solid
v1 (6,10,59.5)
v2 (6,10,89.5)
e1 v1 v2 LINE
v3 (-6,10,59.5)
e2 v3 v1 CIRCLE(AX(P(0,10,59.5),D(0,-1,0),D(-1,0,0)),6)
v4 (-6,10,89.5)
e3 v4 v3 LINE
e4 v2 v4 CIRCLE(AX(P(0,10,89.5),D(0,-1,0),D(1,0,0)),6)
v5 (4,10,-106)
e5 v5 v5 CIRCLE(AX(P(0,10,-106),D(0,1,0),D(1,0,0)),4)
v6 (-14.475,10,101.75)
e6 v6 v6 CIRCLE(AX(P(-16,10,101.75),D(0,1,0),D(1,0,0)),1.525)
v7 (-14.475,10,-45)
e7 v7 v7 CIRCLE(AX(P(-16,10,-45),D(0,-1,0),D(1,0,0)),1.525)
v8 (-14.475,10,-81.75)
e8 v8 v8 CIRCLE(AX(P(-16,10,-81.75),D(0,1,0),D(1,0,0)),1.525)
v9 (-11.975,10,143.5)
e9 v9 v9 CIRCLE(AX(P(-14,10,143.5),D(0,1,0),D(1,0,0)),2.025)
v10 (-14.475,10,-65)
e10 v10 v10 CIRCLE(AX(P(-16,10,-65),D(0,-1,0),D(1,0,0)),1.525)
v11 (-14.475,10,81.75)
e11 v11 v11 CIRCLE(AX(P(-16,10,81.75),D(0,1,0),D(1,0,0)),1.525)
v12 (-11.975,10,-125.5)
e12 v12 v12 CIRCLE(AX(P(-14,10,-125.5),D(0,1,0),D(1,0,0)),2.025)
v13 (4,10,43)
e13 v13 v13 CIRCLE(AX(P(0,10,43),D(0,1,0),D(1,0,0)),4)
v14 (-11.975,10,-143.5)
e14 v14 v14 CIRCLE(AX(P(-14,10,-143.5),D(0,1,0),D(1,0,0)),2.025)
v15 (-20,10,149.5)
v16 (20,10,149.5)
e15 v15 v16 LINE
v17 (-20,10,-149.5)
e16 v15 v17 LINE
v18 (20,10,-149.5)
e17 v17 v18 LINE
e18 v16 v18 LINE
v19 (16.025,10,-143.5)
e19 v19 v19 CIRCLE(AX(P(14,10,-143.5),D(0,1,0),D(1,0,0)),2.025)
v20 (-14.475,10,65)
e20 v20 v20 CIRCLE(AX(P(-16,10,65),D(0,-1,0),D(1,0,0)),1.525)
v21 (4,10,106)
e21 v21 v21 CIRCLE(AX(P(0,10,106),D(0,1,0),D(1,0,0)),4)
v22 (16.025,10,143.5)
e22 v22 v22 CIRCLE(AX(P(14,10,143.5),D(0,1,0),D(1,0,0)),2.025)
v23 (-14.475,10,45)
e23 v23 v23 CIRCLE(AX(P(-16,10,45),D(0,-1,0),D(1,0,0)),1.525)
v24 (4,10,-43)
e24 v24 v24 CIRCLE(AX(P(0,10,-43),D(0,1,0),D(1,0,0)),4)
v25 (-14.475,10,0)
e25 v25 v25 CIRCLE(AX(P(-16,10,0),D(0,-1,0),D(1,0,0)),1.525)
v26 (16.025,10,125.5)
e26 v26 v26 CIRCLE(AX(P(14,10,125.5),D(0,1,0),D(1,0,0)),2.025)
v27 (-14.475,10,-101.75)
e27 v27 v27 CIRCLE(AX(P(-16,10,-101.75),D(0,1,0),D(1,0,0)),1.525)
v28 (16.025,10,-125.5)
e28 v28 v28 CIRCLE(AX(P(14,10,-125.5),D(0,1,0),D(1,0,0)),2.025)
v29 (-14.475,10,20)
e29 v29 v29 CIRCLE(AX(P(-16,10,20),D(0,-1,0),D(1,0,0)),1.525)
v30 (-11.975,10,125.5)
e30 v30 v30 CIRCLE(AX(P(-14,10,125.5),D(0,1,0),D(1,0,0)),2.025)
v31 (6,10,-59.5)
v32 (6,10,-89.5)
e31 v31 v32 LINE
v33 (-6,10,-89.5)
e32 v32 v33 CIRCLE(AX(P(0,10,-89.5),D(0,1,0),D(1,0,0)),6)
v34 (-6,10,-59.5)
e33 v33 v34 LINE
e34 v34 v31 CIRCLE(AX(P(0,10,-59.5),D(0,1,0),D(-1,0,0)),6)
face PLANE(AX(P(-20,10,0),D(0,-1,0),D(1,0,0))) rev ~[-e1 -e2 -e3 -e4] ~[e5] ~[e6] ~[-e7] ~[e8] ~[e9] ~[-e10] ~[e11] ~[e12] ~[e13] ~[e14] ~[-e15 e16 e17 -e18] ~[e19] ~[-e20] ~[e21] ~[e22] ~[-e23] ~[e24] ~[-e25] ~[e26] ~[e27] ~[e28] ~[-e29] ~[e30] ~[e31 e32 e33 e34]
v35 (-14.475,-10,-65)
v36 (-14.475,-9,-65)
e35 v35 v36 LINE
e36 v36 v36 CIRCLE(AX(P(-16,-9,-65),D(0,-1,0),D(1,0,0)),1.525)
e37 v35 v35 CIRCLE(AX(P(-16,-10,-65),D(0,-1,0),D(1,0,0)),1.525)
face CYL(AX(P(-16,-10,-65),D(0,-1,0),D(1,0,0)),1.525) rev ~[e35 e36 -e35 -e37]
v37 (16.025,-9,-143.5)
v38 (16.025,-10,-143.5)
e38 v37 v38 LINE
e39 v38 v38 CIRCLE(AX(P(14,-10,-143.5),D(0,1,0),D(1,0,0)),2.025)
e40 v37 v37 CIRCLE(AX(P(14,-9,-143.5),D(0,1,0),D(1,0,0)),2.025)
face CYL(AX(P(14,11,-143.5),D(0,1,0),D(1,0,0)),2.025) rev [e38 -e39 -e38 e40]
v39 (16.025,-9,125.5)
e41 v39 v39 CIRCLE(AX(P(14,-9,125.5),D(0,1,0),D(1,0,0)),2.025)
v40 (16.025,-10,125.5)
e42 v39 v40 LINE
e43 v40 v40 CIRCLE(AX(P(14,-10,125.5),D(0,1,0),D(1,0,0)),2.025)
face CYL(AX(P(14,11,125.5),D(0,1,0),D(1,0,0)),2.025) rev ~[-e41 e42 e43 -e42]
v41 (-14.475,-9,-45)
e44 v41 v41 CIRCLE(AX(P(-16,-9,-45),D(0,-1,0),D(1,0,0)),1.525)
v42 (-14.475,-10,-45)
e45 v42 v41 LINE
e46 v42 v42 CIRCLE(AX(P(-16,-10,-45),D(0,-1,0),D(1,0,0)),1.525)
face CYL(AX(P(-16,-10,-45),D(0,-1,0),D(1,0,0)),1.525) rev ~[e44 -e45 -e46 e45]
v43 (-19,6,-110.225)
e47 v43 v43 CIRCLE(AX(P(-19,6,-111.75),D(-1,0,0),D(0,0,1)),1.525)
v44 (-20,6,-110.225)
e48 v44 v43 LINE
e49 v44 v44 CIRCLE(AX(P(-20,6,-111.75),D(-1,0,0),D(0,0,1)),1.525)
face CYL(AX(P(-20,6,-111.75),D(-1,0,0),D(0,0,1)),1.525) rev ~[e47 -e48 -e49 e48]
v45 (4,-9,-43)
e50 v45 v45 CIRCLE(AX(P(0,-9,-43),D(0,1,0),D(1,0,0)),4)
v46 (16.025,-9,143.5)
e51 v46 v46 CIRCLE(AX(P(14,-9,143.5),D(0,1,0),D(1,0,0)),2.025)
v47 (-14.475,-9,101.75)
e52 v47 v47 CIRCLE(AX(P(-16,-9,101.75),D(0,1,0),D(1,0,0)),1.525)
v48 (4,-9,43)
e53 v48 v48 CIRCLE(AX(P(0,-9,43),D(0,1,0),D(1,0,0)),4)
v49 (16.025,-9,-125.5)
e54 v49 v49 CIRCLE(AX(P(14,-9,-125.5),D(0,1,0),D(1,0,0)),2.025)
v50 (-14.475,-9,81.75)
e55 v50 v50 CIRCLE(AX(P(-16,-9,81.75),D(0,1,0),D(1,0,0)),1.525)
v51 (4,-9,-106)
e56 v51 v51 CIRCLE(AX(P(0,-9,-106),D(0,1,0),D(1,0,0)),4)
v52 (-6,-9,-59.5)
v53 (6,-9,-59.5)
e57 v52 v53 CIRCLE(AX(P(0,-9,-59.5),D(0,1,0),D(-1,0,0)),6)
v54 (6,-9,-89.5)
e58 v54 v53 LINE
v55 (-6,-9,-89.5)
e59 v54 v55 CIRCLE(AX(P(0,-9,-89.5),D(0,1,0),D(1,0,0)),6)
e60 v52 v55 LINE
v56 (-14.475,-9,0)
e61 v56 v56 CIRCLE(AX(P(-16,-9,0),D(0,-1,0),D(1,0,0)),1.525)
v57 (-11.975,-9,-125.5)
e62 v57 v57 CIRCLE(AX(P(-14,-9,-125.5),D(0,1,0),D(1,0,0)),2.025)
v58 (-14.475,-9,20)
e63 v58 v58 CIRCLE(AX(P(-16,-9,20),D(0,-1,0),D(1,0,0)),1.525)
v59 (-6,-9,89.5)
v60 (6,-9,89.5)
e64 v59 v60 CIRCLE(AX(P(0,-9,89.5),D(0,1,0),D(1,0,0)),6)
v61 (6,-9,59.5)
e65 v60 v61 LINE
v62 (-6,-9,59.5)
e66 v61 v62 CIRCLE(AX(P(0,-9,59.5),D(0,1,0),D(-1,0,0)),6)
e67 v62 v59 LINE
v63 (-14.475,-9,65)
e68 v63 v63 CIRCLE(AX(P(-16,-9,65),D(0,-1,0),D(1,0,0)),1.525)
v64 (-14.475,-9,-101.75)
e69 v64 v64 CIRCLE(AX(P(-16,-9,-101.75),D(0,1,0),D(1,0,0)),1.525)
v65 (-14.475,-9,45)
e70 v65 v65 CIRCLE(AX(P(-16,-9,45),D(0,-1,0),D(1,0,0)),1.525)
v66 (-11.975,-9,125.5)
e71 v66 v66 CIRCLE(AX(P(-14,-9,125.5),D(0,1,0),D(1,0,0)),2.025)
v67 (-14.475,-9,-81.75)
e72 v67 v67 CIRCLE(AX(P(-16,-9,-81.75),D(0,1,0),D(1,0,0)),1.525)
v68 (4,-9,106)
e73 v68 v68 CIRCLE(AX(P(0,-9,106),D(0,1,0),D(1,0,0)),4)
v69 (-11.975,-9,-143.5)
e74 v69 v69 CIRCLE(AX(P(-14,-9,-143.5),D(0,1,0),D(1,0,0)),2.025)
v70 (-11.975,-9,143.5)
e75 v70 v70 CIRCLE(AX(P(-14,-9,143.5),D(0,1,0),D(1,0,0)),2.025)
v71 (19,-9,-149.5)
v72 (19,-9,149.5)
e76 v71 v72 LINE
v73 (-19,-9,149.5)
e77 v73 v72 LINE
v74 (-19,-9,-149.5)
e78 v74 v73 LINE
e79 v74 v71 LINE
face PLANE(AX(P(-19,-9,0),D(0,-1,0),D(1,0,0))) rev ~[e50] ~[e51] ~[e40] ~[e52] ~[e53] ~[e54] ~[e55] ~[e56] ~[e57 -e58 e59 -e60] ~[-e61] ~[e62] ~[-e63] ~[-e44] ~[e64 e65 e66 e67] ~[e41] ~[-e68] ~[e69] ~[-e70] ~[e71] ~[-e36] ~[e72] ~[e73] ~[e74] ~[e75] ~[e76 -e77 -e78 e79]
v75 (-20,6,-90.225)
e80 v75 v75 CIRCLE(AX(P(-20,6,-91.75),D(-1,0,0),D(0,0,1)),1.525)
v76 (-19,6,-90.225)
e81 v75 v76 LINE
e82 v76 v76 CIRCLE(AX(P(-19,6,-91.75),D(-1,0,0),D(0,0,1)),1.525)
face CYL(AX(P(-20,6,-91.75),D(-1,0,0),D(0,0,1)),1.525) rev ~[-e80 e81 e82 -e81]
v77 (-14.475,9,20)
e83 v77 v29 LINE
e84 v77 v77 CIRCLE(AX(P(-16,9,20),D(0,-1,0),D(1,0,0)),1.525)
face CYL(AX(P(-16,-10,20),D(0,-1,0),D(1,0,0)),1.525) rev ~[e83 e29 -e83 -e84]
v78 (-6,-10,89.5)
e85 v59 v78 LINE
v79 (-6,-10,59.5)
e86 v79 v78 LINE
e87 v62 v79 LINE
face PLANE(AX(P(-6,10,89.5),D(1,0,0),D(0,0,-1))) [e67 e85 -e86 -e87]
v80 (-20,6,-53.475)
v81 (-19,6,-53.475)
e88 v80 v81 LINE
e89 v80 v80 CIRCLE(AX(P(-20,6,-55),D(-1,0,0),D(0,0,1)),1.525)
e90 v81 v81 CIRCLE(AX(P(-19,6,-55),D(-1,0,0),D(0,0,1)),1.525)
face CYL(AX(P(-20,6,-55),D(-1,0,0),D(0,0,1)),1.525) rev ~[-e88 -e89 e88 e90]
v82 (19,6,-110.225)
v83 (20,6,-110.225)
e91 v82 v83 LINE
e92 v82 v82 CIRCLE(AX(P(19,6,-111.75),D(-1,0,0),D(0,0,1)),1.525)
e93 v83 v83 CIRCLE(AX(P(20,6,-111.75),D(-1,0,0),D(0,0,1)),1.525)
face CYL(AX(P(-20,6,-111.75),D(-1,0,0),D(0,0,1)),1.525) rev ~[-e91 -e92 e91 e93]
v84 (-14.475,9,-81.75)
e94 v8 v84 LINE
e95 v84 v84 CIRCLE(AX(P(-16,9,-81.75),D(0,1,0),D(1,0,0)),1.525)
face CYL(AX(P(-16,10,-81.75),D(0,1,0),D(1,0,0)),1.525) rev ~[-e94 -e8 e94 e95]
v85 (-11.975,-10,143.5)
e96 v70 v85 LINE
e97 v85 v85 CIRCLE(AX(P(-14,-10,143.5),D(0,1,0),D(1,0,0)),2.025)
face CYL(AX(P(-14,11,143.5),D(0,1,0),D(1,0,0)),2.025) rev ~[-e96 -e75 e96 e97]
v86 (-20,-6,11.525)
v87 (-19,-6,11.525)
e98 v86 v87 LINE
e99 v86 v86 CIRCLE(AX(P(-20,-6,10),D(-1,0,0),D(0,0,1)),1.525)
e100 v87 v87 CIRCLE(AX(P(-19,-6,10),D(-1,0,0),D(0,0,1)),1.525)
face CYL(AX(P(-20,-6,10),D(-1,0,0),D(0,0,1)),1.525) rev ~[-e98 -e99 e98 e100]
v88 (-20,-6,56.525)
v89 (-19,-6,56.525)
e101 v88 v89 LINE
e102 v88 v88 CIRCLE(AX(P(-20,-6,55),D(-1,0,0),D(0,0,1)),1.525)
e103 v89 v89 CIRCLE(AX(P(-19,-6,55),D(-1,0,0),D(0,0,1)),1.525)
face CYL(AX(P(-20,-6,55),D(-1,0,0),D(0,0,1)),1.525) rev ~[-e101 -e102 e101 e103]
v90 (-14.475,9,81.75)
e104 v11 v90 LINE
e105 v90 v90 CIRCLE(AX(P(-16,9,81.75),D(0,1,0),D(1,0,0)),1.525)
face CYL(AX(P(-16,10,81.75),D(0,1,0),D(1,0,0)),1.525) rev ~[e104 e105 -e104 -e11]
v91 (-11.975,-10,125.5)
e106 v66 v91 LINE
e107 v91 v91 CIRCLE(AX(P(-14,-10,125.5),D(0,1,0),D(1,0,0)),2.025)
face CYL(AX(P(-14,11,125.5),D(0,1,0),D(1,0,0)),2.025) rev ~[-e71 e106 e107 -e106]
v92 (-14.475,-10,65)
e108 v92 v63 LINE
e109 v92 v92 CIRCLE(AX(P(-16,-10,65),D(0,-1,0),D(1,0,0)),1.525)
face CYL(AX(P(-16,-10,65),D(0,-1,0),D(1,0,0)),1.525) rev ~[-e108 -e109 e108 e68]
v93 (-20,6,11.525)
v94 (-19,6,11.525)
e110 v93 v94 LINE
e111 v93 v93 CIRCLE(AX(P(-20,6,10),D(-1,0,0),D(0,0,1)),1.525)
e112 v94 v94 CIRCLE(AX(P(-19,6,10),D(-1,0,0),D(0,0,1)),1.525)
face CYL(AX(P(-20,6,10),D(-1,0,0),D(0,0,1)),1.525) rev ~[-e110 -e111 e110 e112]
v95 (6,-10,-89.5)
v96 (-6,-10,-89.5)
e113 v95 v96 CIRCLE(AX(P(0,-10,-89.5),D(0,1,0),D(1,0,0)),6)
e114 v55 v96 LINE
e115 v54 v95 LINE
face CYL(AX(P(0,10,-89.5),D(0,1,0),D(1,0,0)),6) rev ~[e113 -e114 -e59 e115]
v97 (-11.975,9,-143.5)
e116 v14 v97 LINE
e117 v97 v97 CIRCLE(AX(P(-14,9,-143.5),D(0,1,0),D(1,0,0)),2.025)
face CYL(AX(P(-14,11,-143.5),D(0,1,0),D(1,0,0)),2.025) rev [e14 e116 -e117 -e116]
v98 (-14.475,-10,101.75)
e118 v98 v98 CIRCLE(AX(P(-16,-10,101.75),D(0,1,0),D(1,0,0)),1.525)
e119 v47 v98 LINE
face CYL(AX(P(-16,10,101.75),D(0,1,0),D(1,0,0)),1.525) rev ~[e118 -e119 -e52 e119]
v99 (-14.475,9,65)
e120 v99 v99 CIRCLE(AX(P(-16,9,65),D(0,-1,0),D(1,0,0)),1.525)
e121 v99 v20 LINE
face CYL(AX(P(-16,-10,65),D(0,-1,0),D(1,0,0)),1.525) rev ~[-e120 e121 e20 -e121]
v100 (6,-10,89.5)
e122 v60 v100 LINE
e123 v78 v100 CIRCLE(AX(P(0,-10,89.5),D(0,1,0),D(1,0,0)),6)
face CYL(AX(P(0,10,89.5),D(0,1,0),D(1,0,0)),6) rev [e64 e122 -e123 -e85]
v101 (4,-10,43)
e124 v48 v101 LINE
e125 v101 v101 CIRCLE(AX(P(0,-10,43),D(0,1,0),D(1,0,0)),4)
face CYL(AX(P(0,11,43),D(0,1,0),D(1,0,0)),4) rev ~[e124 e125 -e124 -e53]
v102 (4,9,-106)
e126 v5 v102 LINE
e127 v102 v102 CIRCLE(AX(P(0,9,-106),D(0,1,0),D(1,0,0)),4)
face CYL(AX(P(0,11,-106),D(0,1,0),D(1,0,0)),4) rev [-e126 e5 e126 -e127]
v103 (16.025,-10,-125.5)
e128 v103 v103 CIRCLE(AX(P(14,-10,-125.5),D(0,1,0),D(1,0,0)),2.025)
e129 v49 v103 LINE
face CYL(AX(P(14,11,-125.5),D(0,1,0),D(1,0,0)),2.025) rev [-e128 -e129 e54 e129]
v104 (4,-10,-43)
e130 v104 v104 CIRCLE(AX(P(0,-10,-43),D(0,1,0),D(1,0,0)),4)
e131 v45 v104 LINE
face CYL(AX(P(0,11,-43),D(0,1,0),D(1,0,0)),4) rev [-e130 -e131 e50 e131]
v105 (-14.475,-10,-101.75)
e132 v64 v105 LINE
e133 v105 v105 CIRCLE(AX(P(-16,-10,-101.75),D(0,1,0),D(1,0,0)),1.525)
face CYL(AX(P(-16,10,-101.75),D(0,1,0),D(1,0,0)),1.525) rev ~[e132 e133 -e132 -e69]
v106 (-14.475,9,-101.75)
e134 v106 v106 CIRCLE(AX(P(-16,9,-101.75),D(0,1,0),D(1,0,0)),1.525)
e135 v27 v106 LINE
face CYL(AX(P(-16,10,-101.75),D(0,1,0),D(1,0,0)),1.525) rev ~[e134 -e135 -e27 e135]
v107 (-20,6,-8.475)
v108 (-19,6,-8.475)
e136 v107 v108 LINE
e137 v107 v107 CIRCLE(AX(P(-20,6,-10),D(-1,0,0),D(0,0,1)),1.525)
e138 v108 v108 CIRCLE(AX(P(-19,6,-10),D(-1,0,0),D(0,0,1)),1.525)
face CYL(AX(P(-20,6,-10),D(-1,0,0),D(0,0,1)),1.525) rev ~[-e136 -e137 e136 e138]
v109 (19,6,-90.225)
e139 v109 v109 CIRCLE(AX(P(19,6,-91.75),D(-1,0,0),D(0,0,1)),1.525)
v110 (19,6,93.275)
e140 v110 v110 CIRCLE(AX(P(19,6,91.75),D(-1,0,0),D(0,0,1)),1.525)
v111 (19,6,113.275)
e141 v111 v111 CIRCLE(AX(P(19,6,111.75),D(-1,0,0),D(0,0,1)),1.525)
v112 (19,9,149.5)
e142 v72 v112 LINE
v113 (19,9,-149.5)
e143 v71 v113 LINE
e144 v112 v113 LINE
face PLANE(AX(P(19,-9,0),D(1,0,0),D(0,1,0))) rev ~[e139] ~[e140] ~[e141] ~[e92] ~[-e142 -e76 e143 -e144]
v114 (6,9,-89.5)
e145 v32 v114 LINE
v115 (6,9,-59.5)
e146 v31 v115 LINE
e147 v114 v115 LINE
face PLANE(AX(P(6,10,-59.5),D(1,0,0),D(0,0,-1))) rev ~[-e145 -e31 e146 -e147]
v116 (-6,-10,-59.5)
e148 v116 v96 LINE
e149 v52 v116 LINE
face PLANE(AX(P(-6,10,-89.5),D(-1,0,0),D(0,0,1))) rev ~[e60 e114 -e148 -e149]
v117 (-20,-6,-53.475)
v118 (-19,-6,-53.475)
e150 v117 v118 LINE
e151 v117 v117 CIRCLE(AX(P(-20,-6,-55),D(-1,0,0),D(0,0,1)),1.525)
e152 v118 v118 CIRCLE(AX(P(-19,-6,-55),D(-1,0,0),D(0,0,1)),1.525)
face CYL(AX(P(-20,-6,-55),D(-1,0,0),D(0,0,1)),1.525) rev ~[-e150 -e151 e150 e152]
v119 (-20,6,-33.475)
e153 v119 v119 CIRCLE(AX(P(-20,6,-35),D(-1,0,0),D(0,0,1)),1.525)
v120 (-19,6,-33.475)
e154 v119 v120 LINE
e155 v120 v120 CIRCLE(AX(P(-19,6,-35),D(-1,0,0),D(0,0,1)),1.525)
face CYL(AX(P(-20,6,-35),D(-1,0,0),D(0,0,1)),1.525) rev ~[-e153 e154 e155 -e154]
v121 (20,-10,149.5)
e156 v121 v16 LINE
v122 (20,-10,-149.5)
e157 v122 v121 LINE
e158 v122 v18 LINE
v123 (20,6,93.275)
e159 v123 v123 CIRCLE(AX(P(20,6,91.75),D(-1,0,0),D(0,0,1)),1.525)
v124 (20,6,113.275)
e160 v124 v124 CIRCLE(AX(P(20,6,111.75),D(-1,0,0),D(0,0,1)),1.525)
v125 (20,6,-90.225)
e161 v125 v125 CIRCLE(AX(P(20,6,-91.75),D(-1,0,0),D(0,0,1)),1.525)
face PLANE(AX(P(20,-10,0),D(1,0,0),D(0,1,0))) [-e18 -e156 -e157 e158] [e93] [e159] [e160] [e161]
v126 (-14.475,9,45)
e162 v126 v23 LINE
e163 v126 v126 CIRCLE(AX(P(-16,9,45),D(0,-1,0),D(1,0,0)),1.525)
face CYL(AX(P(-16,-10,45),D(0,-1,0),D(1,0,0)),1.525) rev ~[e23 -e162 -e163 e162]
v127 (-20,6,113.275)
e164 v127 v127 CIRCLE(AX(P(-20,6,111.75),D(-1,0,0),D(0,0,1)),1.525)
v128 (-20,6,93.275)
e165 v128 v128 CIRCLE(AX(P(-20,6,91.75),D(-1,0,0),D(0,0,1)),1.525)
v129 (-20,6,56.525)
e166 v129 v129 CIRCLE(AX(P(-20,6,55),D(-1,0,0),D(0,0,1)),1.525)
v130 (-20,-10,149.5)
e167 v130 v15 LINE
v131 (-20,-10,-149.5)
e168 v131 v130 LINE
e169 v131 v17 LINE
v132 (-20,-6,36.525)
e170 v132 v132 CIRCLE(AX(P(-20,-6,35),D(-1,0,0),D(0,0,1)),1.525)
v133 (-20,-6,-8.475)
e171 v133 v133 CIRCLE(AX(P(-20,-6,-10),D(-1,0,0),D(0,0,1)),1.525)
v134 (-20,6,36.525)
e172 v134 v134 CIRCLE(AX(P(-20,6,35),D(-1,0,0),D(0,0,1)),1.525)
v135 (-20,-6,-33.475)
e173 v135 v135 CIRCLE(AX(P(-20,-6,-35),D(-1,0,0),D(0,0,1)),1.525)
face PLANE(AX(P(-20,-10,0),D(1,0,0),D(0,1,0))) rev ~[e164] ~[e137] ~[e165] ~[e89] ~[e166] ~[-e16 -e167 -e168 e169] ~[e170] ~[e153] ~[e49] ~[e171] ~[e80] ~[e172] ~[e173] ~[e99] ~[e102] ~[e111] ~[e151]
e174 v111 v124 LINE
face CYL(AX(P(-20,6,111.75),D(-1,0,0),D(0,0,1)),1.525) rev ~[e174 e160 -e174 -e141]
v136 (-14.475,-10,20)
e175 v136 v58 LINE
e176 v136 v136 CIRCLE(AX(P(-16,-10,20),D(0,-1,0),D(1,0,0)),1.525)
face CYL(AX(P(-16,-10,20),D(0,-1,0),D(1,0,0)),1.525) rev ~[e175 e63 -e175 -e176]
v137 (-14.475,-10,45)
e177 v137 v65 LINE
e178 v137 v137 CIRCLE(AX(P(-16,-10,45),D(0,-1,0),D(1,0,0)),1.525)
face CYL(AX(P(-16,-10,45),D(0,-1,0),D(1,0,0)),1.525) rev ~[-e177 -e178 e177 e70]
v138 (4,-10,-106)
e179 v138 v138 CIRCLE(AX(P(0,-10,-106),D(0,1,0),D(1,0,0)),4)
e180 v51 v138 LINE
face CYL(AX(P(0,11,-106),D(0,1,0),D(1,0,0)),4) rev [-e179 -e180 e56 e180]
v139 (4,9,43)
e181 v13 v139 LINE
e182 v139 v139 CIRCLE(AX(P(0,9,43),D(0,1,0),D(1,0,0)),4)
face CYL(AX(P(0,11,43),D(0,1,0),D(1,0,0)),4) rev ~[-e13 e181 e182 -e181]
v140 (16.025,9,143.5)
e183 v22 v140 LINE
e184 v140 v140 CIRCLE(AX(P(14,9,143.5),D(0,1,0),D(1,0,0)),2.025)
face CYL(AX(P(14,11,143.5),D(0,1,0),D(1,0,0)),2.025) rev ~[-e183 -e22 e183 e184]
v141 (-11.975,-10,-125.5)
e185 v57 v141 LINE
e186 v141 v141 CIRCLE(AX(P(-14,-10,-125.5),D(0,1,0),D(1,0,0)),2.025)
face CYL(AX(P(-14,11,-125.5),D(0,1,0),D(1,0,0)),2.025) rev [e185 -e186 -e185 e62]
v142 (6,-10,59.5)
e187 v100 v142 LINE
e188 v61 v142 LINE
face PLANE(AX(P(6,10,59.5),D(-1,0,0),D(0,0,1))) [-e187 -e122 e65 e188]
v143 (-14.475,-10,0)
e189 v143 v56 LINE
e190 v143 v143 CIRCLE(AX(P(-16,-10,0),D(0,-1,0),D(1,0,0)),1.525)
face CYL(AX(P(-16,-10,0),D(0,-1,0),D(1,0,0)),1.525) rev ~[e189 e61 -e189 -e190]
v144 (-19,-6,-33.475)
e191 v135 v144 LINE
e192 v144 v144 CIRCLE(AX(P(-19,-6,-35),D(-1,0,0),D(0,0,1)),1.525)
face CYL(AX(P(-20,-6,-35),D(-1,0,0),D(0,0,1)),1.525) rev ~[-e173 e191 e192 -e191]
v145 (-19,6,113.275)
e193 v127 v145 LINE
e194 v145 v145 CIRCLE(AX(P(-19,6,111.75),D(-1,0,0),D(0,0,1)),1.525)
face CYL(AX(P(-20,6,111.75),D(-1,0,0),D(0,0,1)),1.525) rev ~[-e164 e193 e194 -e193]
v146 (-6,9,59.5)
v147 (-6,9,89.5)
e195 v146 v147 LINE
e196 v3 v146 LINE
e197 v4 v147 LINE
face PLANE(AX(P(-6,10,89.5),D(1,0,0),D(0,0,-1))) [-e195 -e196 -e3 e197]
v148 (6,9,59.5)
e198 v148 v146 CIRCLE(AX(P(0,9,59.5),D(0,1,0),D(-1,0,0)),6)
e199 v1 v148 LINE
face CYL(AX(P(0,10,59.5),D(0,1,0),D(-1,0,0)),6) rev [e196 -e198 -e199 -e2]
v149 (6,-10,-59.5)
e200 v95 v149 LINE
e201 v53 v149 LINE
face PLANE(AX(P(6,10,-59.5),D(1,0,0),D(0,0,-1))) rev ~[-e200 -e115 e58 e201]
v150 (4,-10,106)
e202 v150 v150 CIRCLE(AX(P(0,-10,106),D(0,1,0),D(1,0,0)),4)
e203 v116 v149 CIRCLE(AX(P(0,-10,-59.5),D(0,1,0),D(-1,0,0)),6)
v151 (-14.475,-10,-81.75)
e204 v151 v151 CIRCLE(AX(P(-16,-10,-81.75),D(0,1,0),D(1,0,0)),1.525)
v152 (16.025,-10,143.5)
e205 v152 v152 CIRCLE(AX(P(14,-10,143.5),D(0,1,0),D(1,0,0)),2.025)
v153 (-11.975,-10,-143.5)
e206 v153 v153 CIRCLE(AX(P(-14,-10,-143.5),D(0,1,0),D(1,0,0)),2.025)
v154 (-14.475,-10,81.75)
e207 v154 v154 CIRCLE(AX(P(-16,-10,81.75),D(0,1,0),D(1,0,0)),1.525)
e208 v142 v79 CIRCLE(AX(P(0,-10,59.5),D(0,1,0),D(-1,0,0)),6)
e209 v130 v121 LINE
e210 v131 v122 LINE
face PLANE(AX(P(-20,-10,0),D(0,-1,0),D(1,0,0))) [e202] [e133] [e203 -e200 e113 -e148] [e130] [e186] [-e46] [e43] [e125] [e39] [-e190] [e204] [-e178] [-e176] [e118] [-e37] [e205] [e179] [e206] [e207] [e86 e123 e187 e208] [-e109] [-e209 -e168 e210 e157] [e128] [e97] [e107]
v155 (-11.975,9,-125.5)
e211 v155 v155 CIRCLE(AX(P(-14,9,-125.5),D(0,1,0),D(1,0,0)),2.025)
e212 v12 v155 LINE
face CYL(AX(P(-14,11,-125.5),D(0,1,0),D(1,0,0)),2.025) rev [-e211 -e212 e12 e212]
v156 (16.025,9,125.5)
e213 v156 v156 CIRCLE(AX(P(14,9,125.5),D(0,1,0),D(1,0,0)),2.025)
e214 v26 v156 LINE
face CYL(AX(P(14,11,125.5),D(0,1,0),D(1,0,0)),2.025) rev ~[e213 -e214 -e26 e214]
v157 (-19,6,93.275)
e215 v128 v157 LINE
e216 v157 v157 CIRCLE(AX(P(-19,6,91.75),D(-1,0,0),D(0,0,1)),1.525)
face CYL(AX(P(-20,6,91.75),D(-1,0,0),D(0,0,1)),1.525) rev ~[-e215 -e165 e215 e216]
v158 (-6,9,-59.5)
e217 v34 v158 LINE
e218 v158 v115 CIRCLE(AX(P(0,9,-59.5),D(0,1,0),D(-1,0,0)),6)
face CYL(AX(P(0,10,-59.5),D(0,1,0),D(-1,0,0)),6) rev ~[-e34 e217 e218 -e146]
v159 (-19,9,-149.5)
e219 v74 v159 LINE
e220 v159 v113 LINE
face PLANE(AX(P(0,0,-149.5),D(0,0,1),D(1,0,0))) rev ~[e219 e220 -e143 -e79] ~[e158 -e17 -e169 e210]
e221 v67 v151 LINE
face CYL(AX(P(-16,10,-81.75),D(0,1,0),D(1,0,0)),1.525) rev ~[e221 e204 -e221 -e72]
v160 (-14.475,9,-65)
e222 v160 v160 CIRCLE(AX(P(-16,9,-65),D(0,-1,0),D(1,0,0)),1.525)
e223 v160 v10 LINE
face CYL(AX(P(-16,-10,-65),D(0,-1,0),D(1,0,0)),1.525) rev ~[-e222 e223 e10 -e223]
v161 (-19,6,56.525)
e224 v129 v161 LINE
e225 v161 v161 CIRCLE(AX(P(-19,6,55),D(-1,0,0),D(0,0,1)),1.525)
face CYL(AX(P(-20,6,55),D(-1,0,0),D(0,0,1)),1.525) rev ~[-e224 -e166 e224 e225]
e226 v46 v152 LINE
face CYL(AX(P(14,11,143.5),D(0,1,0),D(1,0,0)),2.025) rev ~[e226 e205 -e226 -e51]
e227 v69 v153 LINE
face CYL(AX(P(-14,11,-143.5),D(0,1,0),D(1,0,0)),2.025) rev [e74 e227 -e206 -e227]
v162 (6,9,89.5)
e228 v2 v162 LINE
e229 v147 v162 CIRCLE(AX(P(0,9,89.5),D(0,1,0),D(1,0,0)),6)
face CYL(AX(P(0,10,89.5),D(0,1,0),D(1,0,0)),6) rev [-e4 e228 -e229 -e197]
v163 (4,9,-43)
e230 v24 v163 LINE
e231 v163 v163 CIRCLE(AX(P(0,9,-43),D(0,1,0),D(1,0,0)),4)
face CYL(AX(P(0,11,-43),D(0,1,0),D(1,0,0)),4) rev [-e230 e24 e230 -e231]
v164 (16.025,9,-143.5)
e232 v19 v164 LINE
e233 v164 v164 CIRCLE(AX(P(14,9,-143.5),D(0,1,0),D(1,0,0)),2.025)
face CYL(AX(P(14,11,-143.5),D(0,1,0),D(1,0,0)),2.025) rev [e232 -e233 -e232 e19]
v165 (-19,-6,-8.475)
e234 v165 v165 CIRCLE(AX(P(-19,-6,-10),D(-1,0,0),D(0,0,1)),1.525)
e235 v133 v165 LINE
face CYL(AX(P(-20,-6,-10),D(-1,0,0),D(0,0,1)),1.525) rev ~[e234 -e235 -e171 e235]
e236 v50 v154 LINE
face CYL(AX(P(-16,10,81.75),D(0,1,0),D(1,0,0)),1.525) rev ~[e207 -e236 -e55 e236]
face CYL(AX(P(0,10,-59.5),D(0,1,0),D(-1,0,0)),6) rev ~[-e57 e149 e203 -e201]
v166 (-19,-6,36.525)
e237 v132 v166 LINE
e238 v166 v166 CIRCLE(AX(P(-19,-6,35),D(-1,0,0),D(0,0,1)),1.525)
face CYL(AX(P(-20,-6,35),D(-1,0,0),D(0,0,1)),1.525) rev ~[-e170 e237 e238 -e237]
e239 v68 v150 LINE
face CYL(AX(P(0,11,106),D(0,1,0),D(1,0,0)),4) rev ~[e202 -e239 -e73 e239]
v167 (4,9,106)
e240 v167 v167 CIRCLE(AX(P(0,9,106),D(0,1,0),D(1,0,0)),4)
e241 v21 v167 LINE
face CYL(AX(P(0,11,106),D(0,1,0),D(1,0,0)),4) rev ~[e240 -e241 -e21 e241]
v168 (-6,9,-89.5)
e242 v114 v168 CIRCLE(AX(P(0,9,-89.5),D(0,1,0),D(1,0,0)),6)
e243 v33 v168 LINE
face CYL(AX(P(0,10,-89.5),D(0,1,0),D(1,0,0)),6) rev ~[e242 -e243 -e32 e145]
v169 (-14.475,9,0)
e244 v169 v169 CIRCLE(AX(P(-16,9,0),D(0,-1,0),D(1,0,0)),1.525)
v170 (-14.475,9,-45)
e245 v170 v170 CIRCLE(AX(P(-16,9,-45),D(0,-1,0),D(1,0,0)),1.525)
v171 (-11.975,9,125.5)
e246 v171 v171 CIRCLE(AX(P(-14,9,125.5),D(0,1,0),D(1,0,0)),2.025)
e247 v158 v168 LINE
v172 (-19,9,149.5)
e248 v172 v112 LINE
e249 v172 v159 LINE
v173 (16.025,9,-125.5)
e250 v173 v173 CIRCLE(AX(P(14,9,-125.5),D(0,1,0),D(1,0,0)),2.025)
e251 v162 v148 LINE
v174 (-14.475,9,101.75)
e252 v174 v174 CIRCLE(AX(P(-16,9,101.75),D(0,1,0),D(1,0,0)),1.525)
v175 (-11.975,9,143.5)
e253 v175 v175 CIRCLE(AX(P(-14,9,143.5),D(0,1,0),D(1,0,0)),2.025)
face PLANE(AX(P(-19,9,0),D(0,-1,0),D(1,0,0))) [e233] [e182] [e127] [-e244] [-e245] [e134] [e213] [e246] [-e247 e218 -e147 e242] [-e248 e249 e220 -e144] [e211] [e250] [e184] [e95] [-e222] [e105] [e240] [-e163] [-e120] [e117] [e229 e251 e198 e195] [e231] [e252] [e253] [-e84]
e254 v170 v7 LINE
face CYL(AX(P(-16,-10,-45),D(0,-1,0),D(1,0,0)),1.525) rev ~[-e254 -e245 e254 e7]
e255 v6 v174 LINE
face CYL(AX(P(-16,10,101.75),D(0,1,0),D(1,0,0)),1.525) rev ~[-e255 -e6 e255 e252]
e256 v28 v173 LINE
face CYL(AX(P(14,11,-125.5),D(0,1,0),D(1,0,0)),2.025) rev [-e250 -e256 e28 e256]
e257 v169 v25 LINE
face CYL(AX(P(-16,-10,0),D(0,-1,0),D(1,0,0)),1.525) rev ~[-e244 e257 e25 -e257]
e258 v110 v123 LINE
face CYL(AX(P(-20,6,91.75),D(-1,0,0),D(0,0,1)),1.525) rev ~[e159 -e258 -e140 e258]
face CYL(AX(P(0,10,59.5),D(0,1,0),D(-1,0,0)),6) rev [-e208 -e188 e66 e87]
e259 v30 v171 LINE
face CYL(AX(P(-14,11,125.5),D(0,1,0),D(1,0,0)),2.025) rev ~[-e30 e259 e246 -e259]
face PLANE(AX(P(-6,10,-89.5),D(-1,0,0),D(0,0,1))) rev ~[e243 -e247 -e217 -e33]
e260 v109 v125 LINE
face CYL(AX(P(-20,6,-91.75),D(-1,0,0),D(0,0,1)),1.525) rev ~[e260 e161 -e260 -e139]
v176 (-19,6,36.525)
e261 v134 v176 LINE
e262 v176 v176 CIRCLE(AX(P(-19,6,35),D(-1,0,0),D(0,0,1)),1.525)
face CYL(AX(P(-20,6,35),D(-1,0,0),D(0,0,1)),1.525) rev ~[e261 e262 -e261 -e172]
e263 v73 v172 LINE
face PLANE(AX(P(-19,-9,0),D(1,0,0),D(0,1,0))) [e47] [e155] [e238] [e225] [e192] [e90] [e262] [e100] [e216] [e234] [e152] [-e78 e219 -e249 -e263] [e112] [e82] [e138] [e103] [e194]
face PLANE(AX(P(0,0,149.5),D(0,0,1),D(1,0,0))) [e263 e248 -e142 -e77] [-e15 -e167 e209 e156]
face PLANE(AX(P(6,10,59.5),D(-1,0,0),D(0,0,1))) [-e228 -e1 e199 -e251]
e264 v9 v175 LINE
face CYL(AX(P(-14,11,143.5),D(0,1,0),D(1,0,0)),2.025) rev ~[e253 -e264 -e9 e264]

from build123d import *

# Parameters (mm, degrees)
SKETCH_1_W                = 40
SKETCH_1_H                = 20
EXTRUDE_1_DEPTH           = 149.5
SKETCH_2_W                = 38
SKETCH_2_H                = 18
CUT_EXTRUDE_1_DEPTH       = 149.5
SKETCH_4_R                = 1.525
CUT_EXTRUDE_2_DEPTH       = 10
SKETCH_5_R                = 1.525
CUT_EXTRUDE_3_DEPTH       = 21
SKETCH_6_R                = 1.525
CUT_EXTRUDE_4_DEPTH       = 21
SKETCH_7_R                = 1.525
CUT_EXTRUDE_5_DEPTH       = 1
CUT_EXTRUDE_5_DEPTH_BACK  = 41
CUT_EXTRUDE_START         = -21
SKETCH_9_R                = 2.025
CUT_EXTRUDE_6_DEPTH       = 22
CUT_EXTRUDE_7_DEPTH       = 1
CUT_EXTRUDE_7_DEPTH_BACK  = 21
SKETCH_11_R               = 4
CUT_EXTRUDE_8_DEPTH       = 22
SKETCH_12_R               = 1.525
CUT_EXTRUDE_9_DEPTH       = 1
CUT_EXTRUDE_9_DEPTH_BACK  = 21
SKETCH_13_R               = 1.525
CUT_EXTRUDE_10_DEPTH      = 1
CUT_EXTRUDE_10_DEPTH_BACK = 41


with BuildPart() as part:
    # 草图1 → 凸台-拉伸1 (new body, symmetric)
    with BuildSketch(Plane.XY):
        Rectangle(SKETCH_1_W, SKETCH_1_H)
    extrude(amount=EXTRUDE_1_DEPTH, both=True)

    # 草图2 → 切除-拉伸1 (cut, symmetric)
    with BuildSketch(Plane.XY):
        Rectangle(SKETCH_2_W, SKETCH_2_H)
    extrude(amount=CUT_EXTRUDE_1_DEPTH, both=True, mode=Mode.SUBTRACT)

    # 草图4 → 切除-拉伸2 (cut)
    with BuildSketch(Plane.ZY.offset(20)):
        with Locations((55, -6)):
            Circle(SKETCH_4_R)
        with Locations((55, 6)):
            Circle(SKETCH_4_R)
        with Locations((35, 6)):
            Circle(SKETCH_4_R)
        with Locations((35, -6)):
            Circle(SKETCH_4_R)
        with Locations((10, -6)):
            Circle(SKETCH_4_R)
        with Locations((10, 6)):
            Circle(SKETCH_4_R)
        with Locations((-10, 6)):
            Circle(SKETCH_4_R)
        with Locations((-10, -6)):
            Circle(SKETCH_4_R)
        with Locations((-35, 6)):
            Circle(SKETCH_4_R)
        with Locations((-55, -6)):
            Circle(SKETCH_4_R)
        with Locations((-55, 6)):
            Circle(SKETCH_4_R)
        with Locations((-35, -6)):
            Circle(SKETCH_4_R)
    extrude(amount=-CUT_EXTRUDE_2_DEPTH, mode=Mode.SUBTRACT)

    # 草图5 → 切除-拉伸3 (cut, through all)
    with BuildSketch(Plane.XZ.offset(10)):
        with Locations((-16, 65)):
            Circle(SKETCH_5_R)
        with Locations((-16, 45)):
            Circle(SKETCH_5_R)
        with Locations((-16, 20)):
            Circle(SKETCH_5_R)
        with Locations((-16, 0)):
            Circle(SKETCH_5_R)
        with Locations((-16, -45)):
            Circle(SKETCH_5_R)
        with Locations((-16, -65)):
            Circle(SKETCH_5_R)
    extrude(amount=-CUT_EXTRUDE_3_DEPTH, mode=Mode.SUBTRACT)

    # 草图6 → 切除-拉伸4 (cut, through all)
    with BuildSketch(Plane(origin=(0, 10, 0), x_dir=(1, 0, 0), z_dir=(0, 1, 0))):
        with Locations((-16, -81.75)):
            Circle(SKETCH_6_R)
        with Locations((-16, -101.75)):
            Circle(SKETCH_6_R)
    extrude(amount=-CUT_EXTRUDE_4_DEPTH, mode=Mode.SUBTRACT)

    # 草图7 → 切除-拉伸5 (cut, two sides)
    with BuildSketch(Plane.ZY.offset(20)) as cut_extrude_5_sk:
        with Locations((91.75, 6)):
            Circle(SKETCH_7_R)
        with Locations((111.75, 6)):
            Circle(SKETCH_7_R)
    extrude(amount=CUT_EXTRUDE_5_DEPTH, mode=Mode.SUBTRACT)
    extrude(cut_extrude_5_sk.sketch, amount=-CUT_EXTRUDE_5_DEPTH_BACK, mode=Mode.SUBTRACT)

    # 草图9 → 切除-拉伸6 (cut)
    with BuildSketch(Plane.XZ.offset(10).offset(CUT_EXTRUDE_START)):
        with Locations((14, -125.5)):
            Circle(SKETCH_9_R)
        with Locations((-14, -125.5)):
            Circle(SKETCH_9_R)
        with Locations((14, -143.5)):
            Circle(SKETCH_9_R)
        with Locations((-14, -143.5)):
            Circle(SKETCH_9_R)
    cut_extrude_6 = extrude(amount=CUT_EXTRUDE_6_DEPTH, mode=Mode.SUBTRACT)

    # 草图10 → 切除-拉伸7 (cut, two sides)
    with BuildSketch(Plane(origin=(0, 10, 0), x_dir=(1, 0, 0), z_dir=(0, 1, 0))) as cut_extrude_7_sk:
        with BuildLine():
            Line((-6, -89.5), (-6, -59.5))
            ThreePointArc((-6, -59.5), (0, -53.5), (6, -59.5))
            Line((6, -59.5), (6, -89.5))
            ThreePointArc((6, -89.5), (0, -95.5), (-6, -89.5))
        make_face()
        with BuildLine():
            Line((-6, 89.5), (-6, 59.5))
            ThreePointArc((-6, 59.5), (0, 53.5), (6, 59.5))
            Line((6, 59.5), (6, 89.5))
            ThreePointArc((6, 89.5), (0, 95.5), (-6, 89.5))
        make_face()
    extrude(amount=CUT_EXTRUDE_7_DEPTH, mode=Mode.SUBTRACT)
    extrude(cut_extrude_7_sk.sketch, amount=-CUT_EXTRUDE_7_DEPTH_BACK, mode=Mode.SUBTRACT)

    # 草图11 → 切除-拉伸8 (cut)
    with BuildSketch(Plane.XZ.offset(10).offset(CUT_EXTRUDE_START)):
        with Locations((0, -43)):
            Circle(SKETCH_11_R)
        with Locations((0, -106)):
            Circle(SKETCH_11_R)
    cut_extrude_8 = extrude(amount=CUT_EXTRUDE_8_DEPTH, mode=Mode.SUBTRACT)

    # 镜向1: 切除-拉伸8 across plane
    add(cut_extrude_8.mirror(Plane.XY), mode=Mode.SUBTRACT)

    # 镜向2: 切除-拉伸6 across plane
    add(cut_extrude_6.mirror(Plane.XY), mode=Mode.SUBTRACT)

    # 草图12 → 切除-拉伸9 (cut, two sides)
    with BuildSketch(Plane(origin=(0, 10, 0), x_dir=(1, 0, 0), z_dir=(0, 1, 0))) as cut_extrude_9_sk:
        with Locations((-16, 81.75)):
            Circle(SKETCH_12_R)
        with Locations((-16, 101.75)):
            Circle(SKETCH_12_R)
    extrude(amount=CUT_EXTRUDE_9_DEPTH, mode=Mode.SUBTRACT)
    extrude(cut_extrude_9_sk.sketch, amount=-CUT_EXTRUDE_9_DEPTH_BACK, mode=Mode.SUBTRACT)

    # 草图13 → 切除-拉伸10 (cut, two sides)
    with BuildSketch(Plane.ZY.offset(20)) as cut_extrude_10_sk:
        with Locations((-91.75, 6)):
            Circle(SKETCH_13_R)
        with Locations((-111.75, 6)):
            Circle(SKETCH_13_R)
    extrude(amount=CUT_EXTRUDE_10_DEPTH, mode=Mode.SUBTRACT)
    extrude(cut_extrude_10_sk.sketch, amount=-CUT_EXTRUDE_10_DEPTH_BACK, mode=Mode.SUBTRACT)


solid = part.part
